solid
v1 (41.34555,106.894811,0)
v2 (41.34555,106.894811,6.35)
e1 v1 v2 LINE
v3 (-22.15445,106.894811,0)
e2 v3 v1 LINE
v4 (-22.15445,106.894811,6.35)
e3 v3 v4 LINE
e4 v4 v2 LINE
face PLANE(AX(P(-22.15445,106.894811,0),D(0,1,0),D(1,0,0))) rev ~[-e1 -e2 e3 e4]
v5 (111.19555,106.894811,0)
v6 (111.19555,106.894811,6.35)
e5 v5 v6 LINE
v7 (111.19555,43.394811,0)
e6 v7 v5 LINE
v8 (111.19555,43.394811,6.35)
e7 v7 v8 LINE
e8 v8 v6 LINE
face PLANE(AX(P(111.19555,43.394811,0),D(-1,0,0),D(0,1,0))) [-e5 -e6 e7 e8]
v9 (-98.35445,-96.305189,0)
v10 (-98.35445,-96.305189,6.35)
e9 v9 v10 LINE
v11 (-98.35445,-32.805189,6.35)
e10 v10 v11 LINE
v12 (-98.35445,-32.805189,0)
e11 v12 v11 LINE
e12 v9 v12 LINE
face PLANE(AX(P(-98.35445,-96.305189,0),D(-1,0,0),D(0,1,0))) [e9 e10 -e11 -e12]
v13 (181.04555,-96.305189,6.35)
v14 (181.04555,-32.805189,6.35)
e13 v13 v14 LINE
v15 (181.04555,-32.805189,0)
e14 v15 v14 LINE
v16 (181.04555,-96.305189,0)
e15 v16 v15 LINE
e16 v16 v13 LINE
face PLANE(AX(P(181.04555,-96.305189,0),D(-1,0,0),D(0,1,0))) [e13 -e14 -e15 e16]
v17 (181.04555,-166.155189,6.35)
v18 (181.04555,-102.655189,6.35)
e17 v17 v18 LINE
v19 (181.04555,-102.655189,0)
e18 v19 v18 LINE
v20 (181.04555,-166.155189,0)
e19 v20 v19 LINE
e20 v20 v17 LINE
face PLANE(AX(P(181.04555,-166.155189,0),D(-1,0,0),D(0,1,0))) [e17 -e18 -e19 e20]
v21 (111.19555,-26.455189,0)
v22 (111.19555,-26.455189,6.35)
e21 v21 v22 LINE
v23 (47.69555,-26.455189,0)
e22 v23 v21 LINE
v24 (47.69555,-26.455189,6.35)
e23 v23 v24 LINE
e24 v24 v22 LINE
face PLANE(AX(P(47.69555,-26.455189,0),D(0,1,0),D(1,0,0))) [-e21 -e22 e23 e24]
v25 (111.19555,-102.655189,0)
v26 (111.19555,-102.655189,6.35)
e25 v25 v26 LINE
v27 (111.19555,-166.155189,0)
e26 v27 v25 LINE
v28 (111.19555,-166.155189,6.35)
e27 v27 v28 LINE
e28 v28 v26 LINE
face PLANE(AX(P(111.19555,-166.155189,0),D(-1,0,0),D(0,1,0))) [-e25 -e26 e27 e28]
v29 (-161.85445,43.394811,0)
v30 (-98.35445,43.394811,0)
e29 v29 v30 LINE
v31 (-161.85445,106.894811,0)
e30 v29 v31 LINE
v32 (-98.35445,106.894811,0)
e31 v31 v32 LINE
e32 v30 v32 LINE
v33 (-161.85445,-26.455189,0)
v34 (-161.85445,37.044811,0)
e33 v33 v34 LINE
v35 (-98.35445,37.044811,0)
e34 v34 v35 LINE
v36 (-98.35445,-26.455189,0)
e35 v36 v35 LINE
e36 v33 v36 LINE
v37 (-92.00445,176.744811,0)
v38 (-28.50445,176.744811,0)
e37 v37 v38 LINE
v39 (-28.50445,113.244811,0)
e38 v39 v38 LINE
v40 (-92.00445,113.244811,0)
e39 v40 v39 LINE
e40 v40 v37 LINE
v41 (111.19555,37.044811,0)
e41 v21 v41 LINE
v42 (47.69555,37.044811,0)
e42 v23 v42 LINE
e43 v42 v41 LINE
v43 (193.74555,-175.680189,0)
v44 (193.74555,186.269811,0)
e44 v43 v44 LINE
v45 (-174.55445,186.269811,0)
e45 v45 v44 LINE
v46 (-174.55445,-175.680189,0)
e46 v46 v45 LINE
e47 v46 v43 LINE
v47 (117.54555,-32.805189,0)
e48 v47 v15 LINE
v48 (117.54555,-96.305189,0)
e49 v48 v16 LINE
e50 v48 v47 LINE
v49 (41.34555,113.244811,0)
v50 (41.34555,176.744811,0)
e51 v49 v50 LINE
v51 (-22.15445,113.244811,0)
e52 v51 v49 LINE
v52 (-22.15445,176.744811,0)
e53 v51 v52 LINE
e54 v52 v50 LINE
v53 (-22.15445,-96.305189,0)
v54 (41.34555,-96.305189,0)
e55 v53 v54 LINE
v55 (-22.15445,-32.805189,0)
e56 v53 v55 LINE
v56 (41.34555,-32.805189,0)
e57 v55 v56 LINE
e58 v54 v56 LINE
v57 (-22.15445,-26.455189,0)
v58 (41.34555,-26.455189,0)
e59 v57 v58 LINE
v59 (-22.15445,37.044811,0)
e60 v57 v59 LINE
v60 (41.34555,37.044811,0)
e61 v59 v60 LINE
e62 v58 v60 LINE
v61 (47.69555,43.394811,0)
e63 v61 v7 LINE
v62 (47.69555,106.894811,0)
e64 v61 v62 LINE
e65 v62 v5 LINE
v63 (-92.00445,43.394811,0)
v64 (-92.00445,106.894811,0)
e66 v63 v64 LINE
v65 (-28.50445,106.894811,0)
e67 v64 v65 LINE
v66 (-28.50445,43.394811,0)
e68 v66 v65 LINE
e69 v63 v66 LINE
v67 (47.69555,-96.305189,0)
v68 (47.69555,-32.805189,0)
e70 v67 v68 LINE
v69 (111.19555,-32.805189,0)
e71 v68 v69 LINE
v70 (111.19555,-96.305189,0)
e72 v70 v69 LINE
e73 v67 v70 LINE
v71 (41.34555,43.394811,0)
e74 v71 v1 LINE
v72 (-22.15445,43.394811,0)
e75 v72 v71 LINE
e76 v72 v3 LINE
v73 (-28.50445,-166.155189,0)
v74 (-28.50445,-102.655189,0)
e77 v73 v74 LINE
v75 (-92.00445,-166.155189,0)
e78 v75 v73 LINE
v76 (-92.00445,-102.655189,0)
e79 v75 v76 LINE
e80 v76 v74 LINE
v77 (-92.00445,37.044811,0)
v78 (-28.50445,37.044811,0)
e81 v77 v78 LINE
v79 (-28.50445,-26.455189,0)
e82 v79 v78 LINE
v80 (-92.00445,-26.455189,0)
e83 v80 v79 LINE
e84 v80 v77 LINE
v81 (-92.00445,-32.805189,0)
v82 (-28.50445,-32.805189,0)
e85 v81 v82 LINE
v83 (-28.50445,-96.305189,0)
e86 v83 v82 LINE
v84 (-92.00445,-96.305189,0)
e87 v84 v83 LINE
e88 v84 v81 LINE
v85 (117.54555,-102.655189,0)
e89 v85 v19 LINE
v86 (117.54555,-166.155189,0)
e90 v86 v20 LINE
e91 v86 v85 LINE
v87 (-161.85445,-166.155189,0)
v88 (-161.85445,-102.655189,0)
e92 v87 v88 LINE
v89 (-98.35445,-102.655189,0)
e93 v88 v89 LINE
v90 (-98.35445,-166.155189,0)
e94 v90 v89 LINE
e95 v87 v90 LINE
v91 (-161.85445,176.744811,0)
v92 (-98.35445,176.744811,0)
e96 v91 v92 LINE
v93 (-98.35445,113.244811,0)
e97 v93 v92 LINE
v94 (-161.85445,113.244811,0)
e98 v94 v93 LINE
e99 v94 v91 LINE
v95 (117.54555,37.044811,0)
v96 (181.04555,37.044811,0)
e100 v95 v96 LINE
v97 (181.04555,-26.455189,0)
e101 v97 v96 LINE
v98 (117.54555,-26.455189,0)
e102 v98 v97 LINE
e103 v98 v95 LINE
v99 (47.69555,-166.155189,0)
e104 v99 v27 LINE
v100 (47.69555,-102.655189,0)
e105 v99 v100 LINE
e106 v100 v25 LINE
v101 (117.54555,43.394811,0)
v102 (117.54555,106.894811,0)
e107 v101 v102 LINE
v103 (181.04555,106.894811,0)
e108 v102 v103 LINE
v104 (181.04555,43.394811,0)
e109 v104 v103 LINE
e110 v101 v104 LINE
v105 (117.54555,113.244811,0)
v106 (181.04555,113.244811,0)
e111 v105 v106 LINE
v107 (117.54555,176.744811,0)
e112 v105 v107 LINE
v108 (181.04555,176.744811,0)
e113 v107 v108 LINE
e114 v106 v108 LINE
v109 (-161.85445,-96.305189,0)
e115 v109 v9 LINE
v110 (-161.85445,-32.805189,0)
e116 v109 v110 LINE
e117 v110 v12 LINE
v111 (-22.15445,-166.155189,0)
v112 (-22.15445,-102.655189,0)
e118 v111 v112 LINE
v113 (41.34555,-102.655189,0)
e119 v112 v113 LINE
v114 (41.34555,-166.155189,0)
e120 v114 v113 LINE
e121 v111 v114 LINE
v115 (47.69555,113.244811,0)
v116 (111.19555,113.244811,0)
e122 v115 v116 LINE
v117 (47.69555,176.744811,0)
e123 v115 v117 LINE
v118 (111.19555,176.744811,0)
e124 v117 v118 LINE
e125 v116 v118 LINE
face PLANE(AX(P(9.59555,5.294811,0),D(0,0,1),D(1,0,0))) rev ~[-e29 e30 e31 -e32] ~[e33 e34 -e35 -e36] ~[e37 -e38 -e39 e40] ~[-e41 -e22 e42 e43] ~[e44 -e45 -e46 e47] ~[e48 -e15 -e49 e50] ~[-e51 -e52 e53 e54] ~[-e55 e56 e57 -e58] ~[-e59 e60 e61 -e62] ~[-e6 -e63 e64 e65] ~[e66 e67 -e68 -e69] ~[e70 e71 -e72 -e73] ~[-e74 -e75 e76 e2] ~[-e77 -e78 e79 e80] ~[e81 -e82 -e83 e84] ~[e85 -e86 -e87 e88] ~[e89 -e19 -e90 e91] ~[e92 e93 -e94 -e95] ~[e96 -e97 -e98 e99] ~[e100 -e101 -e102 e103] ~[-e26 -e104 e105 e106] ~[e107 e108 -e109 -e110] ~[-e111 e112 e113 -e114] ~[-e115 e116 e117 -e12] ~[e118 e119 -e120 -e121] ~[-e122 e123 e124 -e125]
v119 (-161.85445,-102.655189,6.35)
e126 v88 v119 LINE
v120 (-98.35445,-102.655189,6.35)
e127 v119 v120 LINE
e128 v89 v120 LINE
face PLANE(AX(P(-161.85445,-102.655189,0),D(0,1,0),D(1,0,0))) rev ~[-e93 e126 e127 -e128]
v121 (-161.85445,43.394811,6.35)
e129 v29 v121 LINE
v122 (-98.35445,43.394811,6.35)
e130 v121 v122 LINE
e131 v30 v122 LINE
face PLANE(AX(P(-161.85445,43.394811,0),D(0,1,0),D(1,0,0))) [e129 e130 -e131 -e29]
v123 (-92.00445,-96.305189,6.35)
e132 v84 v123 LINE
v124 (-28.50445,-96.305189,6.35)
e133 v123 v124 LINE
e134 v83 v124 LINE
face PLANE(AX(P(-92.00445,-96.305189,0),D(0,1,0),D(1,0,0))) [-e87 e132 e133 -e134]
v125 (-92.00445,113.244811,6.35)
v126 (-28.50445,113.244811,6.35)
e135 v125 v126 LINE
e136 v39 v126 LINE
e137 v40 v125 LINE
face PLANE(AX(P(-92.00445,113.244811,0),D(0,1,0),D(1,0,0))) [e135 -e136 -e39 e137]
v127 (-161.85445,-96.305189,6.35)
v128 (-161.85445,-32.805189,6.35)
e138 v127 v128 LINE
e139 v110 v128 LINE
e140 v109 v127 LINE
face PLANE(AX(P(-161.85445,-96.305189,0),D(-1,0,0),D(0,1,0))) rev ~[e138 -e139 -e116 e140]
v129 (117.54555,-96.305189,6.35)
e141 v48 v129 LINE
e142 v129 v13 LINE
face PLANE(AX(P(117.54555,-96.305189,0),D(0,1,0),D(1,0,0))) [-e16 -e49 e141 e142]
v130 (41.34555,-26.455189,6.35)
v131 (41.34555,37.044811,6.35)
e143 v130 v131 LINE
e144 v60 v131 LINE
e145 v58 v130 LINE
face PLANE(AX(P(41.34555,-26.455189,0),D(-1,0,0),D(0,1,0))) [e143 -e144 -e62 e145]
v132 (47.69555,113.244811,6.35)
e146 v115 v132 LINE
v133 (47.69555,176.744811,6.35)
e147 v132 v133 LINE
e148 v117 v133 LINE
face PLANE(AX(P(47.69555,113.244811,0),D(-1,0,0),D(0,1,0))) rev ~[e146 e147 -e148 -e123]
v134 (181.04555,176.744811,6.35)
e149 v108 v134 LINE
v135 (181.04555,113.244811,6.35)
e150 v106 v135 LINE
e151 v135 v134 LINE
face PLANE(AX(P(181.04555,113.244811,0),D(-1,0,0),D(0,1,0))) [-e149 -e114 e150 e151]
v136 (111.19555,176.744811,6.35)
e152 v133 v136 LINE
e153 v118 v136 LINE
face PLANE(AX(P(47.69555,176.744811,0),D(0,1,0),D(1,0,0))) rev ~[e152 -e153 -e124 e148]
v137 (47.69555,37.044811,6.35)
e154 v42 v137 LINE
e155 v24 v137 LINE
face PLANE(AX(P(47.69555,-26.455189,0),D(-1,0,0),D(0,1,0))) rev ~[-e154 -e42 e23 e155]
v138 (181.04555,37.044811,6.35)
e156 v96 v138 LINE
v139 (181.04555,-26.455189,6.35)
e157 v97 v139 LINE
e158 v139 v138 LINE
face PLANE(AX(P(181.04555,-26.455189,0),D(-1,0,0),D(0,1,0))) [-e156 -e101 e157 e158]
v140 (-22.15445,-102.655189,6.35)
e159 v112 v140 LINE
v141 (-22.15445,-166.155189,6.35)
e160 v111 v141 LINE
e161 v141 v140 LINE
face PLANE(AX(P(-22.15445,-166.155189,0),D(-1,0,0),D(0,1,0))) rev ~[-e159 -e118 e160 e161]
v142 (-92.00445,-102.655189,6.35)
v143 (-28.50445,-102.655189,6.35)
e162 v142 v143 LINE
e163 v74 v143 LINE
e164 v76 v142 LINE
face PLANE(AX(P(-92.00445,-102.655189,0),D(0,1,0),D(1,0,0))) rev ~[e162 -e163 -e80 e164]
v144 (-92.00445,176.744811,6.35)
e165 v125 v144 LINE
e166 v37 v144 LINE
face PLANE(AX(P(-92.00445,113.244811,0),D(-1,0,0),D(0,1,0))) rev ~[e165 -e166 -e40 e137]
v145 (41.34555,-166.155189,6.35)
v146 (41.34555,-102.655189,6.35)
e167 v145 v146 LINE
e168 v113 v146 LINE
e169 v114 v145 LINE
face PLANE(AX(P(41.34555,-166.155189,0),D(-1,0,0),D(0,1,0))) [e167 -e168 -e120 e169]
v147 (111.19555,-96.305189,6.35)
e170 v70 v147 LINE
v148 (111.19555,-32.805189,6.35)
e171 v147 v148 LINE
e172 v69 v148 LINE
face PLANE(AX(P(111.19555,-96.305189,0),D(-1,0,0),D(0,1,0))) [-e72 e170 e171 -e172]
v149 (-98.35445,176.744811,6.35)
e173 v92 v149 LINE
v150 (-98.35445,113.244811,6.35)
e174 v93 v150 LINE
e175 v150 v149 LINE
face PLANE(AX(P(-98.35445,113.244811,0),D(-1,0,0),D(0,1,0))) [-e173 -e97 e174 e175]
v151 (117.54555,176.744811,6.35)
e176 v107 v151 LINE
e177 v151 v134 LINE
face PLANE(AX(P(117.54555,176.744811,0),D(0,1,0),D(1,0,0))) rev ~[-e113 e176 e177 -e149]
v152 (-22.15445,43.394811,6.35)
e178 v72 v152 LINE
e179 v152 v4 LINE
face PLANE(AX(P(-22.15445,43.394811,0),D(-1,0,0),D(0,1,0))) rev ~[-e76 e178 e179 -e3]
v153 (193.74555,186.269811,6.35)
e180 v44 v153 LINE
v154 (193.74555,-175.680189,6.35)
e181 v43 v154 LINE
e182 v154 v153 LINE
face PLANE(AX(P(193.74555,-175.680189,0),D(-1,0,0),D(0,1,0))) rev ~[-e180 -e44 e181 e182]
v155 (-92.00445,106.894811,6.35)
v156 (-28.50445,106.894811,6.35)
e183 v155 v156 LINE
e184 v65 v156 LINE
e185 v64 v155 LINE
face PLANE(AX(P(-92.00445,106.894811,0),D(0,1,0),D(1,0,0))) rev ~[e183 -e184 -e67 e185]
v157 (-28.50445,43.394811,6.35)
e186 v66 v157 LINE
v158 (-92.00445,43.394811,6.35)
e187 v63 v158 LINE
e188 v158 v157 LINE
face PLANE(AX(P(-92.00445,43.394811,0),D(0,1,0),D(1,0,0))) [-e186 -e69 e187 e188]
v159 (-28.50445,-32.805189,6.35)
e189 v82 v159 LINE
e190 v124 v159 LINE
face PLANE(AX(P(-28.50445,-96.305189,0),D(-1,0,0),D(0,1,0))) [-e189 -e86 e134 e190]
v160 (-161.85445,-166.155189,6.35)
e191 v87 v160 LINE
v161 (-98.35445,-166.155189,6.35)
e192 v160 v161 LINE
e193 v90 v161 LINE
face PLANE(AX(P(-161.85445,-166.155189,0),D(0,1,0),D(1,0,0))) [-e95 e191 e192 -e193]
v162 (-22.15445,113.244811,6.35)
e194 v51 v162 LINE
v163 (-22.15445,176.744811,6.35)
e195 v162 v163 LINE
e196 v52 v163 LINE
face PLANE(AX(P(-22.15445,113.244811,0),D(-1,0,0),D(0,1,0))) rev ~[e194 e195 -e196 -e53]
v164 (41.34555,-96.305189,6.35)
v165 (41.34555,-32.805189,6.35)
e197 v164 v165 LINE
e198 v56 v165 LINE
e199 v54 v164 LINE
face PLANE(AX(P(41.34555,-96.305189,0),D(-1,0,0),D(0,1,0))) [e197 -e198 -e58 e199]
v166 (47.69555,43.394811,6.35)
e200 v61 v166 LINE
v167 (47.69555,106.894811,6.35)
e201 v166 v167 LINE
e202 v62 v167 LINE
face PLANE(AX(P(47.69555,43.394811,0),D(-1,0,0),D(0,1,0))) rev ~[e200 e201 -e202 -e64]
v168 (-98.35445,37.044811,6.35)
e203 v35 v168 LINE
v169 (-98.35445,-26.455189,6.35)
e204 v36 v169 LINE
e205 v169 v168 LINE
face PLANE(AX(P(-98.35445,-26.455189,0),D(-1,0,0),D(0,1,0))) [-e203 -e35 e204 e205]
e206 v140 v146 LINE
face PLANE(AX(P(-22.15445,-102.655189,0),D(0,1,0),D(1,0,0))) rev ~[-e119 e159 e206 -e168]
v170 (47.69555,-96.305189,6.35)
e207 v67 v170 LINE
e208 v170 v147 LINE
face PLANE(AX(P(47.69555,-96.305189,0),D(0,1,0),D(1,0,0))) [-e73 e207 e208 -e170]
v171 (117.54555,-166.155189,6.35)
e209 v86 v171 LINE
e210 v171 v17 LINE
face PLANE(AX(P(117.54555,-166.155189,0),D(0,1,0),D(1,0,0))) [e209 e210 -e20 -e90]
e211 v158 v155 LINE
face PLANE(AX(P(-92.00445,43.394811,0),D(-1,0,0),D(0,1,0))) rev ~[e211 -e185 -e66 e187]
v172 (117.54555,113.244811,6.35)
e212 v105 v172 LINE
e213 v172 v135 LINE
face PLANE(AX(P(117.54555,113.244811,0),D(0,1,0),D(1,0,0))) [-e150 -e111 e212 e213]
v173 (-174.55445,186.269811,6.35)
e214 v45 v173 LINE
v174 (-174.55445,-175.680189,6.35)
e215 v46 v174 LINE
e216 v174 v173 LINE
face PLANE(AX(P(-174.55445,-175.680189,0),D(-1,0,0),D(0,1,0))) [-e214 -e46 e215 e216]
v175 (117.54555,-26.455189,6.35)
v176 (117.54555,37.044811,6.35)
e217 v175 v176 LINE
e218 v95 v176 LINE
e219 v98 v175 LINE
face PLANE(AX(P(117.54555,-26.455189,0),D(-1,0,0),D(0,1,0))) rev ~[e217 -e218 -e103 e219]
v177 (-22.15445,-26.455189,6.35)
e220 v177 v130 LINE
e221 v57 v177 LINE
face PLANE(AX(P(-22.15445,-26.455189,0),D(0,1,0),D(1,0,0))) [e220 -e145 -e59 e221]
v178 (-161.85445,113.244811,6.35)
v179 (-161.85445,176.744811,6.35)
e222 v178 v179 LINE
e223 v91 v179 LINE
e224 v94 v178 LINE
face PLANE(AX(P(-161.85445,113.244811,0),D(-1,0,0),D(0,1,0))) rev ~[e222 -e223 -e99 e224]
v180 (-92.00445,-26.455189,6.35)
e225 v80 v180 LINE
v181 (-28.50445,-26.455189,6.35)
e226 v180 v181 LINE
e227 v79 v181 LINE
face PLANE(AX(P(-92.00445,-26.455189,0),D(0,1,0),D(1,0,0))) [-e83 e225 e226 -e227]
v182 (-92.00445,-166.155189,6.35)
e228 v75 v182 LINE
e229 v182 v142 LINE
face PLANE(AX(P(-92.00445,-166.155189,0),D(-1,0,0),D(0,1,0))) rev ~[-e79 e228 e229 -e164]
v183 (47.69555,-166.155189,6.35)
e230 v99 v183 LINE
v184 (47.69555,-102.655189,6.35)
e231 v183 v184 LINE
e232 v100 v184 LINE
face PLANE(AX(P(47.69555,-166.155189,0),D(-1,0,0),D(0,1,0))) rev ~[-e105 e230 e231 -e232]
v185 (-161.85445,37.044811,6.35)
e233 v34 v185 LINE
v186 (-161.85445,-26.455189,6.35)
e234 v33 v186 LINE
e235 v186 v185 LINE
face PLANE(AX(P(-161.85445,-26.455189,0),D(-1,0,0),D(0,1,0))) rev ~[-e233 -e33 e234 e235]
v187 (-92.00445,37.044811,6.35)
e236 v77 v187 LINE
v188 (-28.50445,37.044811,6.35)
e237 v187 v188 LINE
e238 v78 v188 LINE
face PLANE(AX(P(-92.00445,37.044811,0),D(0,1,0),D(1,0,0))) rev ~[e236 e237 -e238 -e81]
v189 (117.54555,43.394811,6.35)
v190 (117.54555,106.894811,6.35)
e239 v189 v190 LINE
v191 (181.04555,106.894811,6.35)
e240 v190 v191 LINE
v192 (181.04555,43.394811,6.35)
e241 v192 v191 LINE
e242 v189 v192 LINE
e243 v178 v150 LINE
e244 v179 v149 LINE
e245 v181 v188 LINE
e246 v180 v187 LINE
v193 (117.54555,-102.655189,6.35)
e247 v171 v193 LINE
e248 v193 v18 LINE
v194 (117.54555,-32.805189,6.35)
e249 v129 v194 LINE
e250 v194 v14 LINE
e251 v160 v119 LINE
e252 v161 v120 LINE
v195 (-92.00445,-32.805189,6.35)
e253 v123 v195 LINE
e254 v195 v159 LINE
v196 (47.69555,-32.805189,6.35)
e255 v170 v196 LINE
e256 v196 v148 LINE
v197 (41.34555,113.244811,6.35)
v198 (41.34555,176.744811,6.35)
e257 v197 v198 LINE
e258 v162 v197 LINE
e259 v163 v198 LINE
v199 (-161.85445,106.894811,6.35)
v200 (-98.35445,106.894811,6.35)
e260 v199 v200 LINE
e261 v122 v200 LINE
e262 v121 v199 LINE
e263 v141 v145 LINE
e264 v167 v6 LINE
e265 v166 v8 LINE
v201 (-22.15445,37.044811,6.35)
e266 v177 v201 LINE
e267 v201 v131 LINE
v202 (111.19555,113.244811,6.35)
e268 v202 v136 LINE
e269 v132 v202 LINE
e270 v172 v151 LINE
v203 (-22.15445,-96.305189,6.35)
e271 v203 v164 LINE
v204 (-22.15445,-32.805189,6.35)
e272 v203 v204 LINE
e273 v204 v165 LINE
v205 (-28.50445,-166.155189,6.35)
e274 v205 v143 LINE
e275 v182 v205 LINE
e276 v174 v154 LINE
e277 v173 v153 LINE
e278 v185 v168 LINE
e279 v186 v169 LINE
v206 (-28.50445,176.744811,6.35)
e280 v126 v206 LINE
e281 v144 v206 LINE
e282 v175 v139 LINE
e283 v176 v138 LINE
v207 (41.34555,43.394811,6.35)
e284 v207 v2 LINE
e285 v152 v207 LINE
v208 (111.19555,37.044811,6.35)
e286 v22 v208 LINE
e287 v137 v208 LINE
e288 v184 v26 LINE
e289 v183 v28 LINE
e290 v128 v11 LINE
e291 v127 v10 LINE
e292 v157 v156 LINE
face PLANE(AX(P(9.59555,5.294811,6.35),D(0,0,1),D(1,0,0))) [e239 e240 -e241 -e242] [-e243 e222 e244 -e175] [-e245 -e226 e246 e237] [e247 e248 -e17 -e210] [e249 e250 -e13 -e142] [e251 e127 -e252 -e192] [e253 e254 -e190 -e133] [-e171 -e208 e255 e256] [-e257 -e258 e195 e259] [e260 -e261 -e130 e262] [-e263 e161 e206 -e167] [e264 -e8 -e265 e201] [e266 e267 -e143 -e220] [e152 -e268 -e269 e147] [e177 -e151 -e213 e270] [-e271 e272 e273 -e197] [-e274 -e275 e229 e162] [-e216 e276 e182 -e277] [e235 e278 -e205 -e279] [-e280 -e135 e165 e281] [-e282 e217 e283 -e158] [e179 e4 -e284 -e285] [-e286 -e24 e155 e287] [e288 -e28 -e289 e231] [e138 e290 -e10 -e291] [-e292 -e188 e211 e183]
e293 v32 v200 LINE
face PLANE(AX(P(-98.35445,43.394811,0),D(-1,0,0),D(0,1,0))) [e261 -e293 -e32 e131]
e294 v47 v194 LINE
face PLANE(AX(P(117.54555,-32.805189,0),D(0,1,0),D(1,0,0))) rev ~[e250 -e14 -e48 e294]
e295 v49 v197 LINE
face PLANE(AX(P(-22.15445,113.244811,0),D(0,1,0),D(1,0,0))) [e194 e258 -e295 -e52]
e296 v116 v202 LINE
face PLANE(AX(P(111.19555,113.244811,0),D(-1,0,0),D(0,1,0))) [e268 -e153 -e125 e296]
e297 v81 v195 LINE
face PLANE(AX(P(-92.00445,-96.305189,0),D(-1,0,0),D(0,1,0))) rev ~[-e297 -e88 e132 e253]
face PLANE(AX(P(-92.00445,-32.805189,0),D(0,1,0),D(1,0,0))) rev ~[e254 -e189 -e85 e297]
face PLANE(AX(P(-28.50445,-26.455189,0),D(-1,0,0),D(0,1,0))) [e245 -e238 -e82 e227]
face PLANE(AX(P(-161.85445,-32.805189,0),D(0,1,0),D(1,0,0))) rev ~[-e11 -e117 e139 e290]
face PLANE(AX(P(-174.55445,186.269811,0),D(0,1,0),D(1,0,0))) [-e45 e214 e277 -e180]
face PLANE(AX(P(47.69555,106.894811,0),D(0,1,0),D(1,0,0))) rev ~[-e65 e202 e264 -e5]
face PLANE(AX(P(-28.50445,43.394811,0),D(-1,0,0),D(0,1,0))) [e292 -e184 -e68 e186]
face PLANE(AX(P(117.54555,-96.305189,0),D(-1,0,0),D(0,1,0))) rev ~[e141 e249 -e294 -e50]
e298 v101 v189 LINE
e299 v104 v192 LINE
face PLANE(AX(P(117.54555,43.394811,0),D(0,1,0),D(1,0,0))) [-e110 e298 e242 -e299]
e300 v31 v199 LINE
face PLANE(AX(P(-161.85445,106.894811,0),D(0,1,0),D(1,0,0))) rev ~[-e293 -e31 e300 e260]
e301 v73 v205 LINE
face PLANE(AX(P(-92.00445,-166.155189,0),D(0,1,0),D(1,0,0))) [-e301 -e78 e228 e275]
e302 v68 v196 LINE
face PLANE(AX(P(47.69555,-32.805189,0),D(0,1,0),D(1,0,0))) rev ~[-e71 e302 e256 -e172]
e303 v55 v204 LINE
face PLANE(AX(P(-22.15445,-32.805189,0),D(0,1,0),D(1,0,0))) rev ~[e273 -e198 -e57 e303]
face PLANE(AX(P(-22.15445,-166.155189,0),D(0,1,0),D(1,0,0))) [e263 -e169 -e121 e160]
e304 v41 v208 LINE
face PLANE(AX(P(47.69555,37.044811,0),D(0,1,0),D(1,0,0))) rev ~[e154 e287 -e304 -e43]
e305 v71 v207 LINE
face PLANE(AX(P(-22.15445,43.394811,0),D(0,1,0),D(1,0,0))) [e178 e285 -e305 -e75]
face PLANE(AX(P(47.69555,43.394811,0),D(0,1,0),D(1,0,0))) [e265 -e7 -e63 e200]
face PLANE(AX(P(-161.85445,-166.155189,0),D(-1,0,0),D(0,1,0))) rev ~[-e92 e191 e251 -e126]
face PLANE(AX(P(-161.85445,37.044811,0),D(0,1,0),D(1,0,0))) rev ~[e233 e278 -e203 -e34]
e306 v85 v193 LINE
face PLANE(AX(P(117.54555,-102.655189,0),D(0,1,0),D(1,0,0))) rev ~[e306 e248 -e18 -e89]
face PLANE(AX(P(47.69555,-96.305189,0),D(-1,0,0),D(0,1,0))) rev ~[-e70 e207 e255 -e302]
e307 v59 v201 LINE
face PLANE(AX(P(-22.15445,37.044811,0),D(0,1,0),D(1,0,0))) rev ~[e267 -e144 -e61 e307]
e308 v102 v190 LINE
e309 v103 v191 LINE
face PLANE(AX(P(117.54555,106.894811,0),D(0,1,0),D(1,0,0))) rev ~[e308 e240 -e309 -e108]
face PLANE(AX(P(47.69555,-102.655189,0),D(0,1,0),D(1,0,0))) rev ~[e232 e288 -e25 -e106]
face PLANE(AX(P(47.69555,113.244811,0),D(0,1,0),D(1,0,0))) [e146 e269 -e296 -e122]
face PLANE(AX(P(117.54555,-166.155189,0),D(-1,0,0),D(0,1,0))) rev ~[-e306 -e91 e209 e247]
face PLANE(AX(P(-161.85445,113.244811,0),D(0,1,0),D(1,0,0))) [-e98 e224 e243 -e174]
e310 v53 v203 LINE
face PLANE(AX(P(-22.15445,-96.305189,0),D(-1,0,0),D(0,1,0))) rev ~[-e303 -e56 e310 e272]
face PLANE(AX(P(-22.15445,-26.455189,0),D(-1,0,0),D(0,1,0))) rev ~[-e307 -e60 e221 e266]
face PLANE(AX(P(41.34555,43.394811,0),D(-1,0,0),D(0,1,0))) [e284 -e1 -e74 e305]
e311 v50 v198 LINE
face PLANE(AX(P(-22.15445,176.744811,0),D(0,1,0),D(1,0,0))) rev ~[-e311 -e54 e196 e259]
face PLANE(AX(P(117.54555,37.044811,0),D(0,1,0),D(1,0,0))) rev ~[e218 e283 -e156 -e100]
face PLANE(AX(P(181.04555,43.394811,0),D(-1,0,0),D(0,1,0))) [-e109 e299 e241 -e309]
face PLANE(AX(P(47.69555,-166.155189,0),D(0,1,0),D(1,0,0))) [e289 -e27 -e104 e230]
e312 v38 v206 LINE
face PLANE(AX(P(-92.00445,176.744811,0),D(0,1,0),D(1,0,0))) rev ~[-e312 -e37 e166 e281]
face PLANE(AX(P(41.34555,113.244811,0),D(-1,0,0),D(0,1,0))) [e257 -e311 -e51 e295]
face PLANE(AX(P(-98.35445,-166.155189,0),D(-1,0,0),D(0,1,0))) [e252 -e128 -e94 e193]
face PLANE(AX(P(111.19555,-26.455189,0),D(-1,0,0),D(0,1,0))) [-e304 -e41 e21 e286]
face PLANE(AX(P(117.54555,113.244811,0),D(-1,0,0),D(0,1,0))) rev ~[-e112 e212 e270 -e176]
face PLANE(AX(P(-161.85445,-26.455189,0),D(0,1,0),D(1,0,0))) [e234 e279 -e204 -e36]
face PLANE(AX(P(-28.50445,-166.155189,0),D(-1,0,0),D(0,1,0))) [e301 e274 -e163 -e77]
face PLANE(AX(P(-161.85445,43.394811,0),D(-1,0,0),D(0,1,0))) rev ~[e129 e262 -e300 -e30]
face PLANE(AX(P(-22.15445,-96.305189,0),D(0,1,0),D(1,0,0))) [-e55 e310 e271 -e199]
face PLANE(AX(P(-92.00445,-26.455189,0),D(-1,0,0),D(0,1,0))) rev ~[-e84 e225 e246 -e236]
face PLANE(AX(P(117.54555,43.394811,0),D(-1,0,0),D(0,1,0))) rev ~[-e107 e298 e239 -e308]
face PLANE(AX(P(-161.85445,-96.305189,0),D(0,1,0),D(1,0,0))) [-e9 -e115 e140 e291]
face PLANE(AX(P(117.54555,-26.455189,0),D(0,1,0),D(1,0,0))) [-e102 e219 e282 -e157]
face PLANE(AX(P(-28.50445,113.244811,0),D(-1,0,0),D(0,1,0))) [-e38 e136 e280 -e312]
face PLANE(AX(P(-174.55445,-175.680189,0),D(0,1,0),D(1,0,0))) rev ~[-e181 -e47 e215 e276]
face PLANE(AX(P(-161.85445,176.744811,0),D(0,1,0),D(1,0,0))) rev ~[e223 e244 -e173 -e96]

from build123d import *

# Parameters (mm, degrees)
F0_W     = 368.3
F0_H     = 361.95
F0_W_2   = 63.5
F0_H_2   = 63.5
F1_DEPTH = 6.35


with BuildPart() as f1:
    # F0 (on Top) → F1 (new body)
    with BuildSketch(Plane.XY):
        with Locations((9.59555, 5.294811)):
            Rectangle(F0_W, F0_H)
        with Locations((-130.10445, -134.405189)):
            Rectangle(F0_W_2, F0_H_2, mode=Mode.SUBTRACT)
        with Locations((-60.25445, -134.405189)):
            Rectangle(F0_W_2, F0_H_2, mode=Mode.SUBTRACT)
        with Locations((-130.10445, -64.555189)):
            Rectangle(F0_W_2, F0_H_2, mode=Mode.SUBTRACT)
        with Locations((-130.10445, 5.294811)):
            Rectangle(F0_W_2, F0_H_2, mode=Mode.SUBTRACT)
        with Locations((-60.25445, -64.555189)):
            Rectangle(F0_W_2, F0_H_2, mode=Mode.SUBTRACT)
        with Locations((-60.25445, 5.294811)):
            Rectangle(F0_W_2, F0_H_2, mode=Mode.SUBTRACT)
        with Locations((9.59555, -134.405189)):
            Rectangle(F0_W_2, F0_H_2, mode=Mode.SUBTRACT)
        with Locations((79.44555, -134.405189)):
            Rectangle(F0_W_2, F0_H_2, mode=Mode.SUBTRACT)
        with Locations((149.29555, -134.405189)):
            Rectangle(F0_W_2, F0_H_2, mode=Mode.SUBTRACT)
        with Locations((9.59555, -64.555189)):
            Rectangle(F0_W_2, F0_H_2, mode=Mode.SUBTRACT)
        with Locations((79.44555, -64.555189)):
            Rectangle(F0_W_2, F0_H_2, mode=Mode.SUBTRACT)
        with Locations((9.59555, 5.294811)):
            Rectangle(F0_W_2, F0_H_2, mode=Mode.SUBTRACT)
        with Locations((79.44555, 5.294811)):
            Rectangle(F0_W_2, F0_H_2, mode=Mode.SUBTRACT)
        with Locations((149.29555, -64.555189)):
            Rectangle(F0_W_2, F0_H_2, mode=Mode.SUBTRACT)
        with Locations((149.29555, 5.294811)):
            Rectangle(F0_W_2, F0_H_2, mode=Mode.SUBTRACT)
        with Locations((-130.10445, 75.144811)):
            Rectangle(F0_W_2, F0_H_2, mode=Mode.SUBTRACT)
        with Locations((-60.25445, 75.144811)):
            Rectangle(F0_W_2, F0_H_2, mode=Mode.SUBTRACT)
        with Locations((-130.10445, 144.994811)):
            Rectangle(F0_W_2, F0_H_2, mode=Mode.SUBTRACT)
        with Locations((-60.25445, 144.994811)):
            Rectangle(F0_W_2, F0_H_2, mode=Mode.SUBTRACT)
        with Locations((9.59555, 75.144811)):
            Rectangle(F0_W_2, F0_H_2, mode=Mode.SUBTRACT)
        with Locations((79.44555, 75.144811)):
            Rectangle(F0_W_2, F0_H_2, mode=Mode.SUBTRACT)
        with Locations((149.29555, 75.144811)):
            Rectangle(F0_W_2, F0_H_2, mode=Mode.SUBTRACT)
        with Locations((9.59555, 144.994811)):
            Rectangle(F0_W_2, F0_H_2, mode=Mode.SUBTRACT)
        with Locations((79.44555, 144.994811)):
            Rectangle(F0_W_2, F0_H_2, mode=Mode.SUBTRACT)
        with Locations((149.29555, 144.994811)):
            Rectangle(F0_W_2, F0_H_2, mode=Mode.SUBTRACT)
    extrude(amount=F1_DEPTH)


solid = f1.part
